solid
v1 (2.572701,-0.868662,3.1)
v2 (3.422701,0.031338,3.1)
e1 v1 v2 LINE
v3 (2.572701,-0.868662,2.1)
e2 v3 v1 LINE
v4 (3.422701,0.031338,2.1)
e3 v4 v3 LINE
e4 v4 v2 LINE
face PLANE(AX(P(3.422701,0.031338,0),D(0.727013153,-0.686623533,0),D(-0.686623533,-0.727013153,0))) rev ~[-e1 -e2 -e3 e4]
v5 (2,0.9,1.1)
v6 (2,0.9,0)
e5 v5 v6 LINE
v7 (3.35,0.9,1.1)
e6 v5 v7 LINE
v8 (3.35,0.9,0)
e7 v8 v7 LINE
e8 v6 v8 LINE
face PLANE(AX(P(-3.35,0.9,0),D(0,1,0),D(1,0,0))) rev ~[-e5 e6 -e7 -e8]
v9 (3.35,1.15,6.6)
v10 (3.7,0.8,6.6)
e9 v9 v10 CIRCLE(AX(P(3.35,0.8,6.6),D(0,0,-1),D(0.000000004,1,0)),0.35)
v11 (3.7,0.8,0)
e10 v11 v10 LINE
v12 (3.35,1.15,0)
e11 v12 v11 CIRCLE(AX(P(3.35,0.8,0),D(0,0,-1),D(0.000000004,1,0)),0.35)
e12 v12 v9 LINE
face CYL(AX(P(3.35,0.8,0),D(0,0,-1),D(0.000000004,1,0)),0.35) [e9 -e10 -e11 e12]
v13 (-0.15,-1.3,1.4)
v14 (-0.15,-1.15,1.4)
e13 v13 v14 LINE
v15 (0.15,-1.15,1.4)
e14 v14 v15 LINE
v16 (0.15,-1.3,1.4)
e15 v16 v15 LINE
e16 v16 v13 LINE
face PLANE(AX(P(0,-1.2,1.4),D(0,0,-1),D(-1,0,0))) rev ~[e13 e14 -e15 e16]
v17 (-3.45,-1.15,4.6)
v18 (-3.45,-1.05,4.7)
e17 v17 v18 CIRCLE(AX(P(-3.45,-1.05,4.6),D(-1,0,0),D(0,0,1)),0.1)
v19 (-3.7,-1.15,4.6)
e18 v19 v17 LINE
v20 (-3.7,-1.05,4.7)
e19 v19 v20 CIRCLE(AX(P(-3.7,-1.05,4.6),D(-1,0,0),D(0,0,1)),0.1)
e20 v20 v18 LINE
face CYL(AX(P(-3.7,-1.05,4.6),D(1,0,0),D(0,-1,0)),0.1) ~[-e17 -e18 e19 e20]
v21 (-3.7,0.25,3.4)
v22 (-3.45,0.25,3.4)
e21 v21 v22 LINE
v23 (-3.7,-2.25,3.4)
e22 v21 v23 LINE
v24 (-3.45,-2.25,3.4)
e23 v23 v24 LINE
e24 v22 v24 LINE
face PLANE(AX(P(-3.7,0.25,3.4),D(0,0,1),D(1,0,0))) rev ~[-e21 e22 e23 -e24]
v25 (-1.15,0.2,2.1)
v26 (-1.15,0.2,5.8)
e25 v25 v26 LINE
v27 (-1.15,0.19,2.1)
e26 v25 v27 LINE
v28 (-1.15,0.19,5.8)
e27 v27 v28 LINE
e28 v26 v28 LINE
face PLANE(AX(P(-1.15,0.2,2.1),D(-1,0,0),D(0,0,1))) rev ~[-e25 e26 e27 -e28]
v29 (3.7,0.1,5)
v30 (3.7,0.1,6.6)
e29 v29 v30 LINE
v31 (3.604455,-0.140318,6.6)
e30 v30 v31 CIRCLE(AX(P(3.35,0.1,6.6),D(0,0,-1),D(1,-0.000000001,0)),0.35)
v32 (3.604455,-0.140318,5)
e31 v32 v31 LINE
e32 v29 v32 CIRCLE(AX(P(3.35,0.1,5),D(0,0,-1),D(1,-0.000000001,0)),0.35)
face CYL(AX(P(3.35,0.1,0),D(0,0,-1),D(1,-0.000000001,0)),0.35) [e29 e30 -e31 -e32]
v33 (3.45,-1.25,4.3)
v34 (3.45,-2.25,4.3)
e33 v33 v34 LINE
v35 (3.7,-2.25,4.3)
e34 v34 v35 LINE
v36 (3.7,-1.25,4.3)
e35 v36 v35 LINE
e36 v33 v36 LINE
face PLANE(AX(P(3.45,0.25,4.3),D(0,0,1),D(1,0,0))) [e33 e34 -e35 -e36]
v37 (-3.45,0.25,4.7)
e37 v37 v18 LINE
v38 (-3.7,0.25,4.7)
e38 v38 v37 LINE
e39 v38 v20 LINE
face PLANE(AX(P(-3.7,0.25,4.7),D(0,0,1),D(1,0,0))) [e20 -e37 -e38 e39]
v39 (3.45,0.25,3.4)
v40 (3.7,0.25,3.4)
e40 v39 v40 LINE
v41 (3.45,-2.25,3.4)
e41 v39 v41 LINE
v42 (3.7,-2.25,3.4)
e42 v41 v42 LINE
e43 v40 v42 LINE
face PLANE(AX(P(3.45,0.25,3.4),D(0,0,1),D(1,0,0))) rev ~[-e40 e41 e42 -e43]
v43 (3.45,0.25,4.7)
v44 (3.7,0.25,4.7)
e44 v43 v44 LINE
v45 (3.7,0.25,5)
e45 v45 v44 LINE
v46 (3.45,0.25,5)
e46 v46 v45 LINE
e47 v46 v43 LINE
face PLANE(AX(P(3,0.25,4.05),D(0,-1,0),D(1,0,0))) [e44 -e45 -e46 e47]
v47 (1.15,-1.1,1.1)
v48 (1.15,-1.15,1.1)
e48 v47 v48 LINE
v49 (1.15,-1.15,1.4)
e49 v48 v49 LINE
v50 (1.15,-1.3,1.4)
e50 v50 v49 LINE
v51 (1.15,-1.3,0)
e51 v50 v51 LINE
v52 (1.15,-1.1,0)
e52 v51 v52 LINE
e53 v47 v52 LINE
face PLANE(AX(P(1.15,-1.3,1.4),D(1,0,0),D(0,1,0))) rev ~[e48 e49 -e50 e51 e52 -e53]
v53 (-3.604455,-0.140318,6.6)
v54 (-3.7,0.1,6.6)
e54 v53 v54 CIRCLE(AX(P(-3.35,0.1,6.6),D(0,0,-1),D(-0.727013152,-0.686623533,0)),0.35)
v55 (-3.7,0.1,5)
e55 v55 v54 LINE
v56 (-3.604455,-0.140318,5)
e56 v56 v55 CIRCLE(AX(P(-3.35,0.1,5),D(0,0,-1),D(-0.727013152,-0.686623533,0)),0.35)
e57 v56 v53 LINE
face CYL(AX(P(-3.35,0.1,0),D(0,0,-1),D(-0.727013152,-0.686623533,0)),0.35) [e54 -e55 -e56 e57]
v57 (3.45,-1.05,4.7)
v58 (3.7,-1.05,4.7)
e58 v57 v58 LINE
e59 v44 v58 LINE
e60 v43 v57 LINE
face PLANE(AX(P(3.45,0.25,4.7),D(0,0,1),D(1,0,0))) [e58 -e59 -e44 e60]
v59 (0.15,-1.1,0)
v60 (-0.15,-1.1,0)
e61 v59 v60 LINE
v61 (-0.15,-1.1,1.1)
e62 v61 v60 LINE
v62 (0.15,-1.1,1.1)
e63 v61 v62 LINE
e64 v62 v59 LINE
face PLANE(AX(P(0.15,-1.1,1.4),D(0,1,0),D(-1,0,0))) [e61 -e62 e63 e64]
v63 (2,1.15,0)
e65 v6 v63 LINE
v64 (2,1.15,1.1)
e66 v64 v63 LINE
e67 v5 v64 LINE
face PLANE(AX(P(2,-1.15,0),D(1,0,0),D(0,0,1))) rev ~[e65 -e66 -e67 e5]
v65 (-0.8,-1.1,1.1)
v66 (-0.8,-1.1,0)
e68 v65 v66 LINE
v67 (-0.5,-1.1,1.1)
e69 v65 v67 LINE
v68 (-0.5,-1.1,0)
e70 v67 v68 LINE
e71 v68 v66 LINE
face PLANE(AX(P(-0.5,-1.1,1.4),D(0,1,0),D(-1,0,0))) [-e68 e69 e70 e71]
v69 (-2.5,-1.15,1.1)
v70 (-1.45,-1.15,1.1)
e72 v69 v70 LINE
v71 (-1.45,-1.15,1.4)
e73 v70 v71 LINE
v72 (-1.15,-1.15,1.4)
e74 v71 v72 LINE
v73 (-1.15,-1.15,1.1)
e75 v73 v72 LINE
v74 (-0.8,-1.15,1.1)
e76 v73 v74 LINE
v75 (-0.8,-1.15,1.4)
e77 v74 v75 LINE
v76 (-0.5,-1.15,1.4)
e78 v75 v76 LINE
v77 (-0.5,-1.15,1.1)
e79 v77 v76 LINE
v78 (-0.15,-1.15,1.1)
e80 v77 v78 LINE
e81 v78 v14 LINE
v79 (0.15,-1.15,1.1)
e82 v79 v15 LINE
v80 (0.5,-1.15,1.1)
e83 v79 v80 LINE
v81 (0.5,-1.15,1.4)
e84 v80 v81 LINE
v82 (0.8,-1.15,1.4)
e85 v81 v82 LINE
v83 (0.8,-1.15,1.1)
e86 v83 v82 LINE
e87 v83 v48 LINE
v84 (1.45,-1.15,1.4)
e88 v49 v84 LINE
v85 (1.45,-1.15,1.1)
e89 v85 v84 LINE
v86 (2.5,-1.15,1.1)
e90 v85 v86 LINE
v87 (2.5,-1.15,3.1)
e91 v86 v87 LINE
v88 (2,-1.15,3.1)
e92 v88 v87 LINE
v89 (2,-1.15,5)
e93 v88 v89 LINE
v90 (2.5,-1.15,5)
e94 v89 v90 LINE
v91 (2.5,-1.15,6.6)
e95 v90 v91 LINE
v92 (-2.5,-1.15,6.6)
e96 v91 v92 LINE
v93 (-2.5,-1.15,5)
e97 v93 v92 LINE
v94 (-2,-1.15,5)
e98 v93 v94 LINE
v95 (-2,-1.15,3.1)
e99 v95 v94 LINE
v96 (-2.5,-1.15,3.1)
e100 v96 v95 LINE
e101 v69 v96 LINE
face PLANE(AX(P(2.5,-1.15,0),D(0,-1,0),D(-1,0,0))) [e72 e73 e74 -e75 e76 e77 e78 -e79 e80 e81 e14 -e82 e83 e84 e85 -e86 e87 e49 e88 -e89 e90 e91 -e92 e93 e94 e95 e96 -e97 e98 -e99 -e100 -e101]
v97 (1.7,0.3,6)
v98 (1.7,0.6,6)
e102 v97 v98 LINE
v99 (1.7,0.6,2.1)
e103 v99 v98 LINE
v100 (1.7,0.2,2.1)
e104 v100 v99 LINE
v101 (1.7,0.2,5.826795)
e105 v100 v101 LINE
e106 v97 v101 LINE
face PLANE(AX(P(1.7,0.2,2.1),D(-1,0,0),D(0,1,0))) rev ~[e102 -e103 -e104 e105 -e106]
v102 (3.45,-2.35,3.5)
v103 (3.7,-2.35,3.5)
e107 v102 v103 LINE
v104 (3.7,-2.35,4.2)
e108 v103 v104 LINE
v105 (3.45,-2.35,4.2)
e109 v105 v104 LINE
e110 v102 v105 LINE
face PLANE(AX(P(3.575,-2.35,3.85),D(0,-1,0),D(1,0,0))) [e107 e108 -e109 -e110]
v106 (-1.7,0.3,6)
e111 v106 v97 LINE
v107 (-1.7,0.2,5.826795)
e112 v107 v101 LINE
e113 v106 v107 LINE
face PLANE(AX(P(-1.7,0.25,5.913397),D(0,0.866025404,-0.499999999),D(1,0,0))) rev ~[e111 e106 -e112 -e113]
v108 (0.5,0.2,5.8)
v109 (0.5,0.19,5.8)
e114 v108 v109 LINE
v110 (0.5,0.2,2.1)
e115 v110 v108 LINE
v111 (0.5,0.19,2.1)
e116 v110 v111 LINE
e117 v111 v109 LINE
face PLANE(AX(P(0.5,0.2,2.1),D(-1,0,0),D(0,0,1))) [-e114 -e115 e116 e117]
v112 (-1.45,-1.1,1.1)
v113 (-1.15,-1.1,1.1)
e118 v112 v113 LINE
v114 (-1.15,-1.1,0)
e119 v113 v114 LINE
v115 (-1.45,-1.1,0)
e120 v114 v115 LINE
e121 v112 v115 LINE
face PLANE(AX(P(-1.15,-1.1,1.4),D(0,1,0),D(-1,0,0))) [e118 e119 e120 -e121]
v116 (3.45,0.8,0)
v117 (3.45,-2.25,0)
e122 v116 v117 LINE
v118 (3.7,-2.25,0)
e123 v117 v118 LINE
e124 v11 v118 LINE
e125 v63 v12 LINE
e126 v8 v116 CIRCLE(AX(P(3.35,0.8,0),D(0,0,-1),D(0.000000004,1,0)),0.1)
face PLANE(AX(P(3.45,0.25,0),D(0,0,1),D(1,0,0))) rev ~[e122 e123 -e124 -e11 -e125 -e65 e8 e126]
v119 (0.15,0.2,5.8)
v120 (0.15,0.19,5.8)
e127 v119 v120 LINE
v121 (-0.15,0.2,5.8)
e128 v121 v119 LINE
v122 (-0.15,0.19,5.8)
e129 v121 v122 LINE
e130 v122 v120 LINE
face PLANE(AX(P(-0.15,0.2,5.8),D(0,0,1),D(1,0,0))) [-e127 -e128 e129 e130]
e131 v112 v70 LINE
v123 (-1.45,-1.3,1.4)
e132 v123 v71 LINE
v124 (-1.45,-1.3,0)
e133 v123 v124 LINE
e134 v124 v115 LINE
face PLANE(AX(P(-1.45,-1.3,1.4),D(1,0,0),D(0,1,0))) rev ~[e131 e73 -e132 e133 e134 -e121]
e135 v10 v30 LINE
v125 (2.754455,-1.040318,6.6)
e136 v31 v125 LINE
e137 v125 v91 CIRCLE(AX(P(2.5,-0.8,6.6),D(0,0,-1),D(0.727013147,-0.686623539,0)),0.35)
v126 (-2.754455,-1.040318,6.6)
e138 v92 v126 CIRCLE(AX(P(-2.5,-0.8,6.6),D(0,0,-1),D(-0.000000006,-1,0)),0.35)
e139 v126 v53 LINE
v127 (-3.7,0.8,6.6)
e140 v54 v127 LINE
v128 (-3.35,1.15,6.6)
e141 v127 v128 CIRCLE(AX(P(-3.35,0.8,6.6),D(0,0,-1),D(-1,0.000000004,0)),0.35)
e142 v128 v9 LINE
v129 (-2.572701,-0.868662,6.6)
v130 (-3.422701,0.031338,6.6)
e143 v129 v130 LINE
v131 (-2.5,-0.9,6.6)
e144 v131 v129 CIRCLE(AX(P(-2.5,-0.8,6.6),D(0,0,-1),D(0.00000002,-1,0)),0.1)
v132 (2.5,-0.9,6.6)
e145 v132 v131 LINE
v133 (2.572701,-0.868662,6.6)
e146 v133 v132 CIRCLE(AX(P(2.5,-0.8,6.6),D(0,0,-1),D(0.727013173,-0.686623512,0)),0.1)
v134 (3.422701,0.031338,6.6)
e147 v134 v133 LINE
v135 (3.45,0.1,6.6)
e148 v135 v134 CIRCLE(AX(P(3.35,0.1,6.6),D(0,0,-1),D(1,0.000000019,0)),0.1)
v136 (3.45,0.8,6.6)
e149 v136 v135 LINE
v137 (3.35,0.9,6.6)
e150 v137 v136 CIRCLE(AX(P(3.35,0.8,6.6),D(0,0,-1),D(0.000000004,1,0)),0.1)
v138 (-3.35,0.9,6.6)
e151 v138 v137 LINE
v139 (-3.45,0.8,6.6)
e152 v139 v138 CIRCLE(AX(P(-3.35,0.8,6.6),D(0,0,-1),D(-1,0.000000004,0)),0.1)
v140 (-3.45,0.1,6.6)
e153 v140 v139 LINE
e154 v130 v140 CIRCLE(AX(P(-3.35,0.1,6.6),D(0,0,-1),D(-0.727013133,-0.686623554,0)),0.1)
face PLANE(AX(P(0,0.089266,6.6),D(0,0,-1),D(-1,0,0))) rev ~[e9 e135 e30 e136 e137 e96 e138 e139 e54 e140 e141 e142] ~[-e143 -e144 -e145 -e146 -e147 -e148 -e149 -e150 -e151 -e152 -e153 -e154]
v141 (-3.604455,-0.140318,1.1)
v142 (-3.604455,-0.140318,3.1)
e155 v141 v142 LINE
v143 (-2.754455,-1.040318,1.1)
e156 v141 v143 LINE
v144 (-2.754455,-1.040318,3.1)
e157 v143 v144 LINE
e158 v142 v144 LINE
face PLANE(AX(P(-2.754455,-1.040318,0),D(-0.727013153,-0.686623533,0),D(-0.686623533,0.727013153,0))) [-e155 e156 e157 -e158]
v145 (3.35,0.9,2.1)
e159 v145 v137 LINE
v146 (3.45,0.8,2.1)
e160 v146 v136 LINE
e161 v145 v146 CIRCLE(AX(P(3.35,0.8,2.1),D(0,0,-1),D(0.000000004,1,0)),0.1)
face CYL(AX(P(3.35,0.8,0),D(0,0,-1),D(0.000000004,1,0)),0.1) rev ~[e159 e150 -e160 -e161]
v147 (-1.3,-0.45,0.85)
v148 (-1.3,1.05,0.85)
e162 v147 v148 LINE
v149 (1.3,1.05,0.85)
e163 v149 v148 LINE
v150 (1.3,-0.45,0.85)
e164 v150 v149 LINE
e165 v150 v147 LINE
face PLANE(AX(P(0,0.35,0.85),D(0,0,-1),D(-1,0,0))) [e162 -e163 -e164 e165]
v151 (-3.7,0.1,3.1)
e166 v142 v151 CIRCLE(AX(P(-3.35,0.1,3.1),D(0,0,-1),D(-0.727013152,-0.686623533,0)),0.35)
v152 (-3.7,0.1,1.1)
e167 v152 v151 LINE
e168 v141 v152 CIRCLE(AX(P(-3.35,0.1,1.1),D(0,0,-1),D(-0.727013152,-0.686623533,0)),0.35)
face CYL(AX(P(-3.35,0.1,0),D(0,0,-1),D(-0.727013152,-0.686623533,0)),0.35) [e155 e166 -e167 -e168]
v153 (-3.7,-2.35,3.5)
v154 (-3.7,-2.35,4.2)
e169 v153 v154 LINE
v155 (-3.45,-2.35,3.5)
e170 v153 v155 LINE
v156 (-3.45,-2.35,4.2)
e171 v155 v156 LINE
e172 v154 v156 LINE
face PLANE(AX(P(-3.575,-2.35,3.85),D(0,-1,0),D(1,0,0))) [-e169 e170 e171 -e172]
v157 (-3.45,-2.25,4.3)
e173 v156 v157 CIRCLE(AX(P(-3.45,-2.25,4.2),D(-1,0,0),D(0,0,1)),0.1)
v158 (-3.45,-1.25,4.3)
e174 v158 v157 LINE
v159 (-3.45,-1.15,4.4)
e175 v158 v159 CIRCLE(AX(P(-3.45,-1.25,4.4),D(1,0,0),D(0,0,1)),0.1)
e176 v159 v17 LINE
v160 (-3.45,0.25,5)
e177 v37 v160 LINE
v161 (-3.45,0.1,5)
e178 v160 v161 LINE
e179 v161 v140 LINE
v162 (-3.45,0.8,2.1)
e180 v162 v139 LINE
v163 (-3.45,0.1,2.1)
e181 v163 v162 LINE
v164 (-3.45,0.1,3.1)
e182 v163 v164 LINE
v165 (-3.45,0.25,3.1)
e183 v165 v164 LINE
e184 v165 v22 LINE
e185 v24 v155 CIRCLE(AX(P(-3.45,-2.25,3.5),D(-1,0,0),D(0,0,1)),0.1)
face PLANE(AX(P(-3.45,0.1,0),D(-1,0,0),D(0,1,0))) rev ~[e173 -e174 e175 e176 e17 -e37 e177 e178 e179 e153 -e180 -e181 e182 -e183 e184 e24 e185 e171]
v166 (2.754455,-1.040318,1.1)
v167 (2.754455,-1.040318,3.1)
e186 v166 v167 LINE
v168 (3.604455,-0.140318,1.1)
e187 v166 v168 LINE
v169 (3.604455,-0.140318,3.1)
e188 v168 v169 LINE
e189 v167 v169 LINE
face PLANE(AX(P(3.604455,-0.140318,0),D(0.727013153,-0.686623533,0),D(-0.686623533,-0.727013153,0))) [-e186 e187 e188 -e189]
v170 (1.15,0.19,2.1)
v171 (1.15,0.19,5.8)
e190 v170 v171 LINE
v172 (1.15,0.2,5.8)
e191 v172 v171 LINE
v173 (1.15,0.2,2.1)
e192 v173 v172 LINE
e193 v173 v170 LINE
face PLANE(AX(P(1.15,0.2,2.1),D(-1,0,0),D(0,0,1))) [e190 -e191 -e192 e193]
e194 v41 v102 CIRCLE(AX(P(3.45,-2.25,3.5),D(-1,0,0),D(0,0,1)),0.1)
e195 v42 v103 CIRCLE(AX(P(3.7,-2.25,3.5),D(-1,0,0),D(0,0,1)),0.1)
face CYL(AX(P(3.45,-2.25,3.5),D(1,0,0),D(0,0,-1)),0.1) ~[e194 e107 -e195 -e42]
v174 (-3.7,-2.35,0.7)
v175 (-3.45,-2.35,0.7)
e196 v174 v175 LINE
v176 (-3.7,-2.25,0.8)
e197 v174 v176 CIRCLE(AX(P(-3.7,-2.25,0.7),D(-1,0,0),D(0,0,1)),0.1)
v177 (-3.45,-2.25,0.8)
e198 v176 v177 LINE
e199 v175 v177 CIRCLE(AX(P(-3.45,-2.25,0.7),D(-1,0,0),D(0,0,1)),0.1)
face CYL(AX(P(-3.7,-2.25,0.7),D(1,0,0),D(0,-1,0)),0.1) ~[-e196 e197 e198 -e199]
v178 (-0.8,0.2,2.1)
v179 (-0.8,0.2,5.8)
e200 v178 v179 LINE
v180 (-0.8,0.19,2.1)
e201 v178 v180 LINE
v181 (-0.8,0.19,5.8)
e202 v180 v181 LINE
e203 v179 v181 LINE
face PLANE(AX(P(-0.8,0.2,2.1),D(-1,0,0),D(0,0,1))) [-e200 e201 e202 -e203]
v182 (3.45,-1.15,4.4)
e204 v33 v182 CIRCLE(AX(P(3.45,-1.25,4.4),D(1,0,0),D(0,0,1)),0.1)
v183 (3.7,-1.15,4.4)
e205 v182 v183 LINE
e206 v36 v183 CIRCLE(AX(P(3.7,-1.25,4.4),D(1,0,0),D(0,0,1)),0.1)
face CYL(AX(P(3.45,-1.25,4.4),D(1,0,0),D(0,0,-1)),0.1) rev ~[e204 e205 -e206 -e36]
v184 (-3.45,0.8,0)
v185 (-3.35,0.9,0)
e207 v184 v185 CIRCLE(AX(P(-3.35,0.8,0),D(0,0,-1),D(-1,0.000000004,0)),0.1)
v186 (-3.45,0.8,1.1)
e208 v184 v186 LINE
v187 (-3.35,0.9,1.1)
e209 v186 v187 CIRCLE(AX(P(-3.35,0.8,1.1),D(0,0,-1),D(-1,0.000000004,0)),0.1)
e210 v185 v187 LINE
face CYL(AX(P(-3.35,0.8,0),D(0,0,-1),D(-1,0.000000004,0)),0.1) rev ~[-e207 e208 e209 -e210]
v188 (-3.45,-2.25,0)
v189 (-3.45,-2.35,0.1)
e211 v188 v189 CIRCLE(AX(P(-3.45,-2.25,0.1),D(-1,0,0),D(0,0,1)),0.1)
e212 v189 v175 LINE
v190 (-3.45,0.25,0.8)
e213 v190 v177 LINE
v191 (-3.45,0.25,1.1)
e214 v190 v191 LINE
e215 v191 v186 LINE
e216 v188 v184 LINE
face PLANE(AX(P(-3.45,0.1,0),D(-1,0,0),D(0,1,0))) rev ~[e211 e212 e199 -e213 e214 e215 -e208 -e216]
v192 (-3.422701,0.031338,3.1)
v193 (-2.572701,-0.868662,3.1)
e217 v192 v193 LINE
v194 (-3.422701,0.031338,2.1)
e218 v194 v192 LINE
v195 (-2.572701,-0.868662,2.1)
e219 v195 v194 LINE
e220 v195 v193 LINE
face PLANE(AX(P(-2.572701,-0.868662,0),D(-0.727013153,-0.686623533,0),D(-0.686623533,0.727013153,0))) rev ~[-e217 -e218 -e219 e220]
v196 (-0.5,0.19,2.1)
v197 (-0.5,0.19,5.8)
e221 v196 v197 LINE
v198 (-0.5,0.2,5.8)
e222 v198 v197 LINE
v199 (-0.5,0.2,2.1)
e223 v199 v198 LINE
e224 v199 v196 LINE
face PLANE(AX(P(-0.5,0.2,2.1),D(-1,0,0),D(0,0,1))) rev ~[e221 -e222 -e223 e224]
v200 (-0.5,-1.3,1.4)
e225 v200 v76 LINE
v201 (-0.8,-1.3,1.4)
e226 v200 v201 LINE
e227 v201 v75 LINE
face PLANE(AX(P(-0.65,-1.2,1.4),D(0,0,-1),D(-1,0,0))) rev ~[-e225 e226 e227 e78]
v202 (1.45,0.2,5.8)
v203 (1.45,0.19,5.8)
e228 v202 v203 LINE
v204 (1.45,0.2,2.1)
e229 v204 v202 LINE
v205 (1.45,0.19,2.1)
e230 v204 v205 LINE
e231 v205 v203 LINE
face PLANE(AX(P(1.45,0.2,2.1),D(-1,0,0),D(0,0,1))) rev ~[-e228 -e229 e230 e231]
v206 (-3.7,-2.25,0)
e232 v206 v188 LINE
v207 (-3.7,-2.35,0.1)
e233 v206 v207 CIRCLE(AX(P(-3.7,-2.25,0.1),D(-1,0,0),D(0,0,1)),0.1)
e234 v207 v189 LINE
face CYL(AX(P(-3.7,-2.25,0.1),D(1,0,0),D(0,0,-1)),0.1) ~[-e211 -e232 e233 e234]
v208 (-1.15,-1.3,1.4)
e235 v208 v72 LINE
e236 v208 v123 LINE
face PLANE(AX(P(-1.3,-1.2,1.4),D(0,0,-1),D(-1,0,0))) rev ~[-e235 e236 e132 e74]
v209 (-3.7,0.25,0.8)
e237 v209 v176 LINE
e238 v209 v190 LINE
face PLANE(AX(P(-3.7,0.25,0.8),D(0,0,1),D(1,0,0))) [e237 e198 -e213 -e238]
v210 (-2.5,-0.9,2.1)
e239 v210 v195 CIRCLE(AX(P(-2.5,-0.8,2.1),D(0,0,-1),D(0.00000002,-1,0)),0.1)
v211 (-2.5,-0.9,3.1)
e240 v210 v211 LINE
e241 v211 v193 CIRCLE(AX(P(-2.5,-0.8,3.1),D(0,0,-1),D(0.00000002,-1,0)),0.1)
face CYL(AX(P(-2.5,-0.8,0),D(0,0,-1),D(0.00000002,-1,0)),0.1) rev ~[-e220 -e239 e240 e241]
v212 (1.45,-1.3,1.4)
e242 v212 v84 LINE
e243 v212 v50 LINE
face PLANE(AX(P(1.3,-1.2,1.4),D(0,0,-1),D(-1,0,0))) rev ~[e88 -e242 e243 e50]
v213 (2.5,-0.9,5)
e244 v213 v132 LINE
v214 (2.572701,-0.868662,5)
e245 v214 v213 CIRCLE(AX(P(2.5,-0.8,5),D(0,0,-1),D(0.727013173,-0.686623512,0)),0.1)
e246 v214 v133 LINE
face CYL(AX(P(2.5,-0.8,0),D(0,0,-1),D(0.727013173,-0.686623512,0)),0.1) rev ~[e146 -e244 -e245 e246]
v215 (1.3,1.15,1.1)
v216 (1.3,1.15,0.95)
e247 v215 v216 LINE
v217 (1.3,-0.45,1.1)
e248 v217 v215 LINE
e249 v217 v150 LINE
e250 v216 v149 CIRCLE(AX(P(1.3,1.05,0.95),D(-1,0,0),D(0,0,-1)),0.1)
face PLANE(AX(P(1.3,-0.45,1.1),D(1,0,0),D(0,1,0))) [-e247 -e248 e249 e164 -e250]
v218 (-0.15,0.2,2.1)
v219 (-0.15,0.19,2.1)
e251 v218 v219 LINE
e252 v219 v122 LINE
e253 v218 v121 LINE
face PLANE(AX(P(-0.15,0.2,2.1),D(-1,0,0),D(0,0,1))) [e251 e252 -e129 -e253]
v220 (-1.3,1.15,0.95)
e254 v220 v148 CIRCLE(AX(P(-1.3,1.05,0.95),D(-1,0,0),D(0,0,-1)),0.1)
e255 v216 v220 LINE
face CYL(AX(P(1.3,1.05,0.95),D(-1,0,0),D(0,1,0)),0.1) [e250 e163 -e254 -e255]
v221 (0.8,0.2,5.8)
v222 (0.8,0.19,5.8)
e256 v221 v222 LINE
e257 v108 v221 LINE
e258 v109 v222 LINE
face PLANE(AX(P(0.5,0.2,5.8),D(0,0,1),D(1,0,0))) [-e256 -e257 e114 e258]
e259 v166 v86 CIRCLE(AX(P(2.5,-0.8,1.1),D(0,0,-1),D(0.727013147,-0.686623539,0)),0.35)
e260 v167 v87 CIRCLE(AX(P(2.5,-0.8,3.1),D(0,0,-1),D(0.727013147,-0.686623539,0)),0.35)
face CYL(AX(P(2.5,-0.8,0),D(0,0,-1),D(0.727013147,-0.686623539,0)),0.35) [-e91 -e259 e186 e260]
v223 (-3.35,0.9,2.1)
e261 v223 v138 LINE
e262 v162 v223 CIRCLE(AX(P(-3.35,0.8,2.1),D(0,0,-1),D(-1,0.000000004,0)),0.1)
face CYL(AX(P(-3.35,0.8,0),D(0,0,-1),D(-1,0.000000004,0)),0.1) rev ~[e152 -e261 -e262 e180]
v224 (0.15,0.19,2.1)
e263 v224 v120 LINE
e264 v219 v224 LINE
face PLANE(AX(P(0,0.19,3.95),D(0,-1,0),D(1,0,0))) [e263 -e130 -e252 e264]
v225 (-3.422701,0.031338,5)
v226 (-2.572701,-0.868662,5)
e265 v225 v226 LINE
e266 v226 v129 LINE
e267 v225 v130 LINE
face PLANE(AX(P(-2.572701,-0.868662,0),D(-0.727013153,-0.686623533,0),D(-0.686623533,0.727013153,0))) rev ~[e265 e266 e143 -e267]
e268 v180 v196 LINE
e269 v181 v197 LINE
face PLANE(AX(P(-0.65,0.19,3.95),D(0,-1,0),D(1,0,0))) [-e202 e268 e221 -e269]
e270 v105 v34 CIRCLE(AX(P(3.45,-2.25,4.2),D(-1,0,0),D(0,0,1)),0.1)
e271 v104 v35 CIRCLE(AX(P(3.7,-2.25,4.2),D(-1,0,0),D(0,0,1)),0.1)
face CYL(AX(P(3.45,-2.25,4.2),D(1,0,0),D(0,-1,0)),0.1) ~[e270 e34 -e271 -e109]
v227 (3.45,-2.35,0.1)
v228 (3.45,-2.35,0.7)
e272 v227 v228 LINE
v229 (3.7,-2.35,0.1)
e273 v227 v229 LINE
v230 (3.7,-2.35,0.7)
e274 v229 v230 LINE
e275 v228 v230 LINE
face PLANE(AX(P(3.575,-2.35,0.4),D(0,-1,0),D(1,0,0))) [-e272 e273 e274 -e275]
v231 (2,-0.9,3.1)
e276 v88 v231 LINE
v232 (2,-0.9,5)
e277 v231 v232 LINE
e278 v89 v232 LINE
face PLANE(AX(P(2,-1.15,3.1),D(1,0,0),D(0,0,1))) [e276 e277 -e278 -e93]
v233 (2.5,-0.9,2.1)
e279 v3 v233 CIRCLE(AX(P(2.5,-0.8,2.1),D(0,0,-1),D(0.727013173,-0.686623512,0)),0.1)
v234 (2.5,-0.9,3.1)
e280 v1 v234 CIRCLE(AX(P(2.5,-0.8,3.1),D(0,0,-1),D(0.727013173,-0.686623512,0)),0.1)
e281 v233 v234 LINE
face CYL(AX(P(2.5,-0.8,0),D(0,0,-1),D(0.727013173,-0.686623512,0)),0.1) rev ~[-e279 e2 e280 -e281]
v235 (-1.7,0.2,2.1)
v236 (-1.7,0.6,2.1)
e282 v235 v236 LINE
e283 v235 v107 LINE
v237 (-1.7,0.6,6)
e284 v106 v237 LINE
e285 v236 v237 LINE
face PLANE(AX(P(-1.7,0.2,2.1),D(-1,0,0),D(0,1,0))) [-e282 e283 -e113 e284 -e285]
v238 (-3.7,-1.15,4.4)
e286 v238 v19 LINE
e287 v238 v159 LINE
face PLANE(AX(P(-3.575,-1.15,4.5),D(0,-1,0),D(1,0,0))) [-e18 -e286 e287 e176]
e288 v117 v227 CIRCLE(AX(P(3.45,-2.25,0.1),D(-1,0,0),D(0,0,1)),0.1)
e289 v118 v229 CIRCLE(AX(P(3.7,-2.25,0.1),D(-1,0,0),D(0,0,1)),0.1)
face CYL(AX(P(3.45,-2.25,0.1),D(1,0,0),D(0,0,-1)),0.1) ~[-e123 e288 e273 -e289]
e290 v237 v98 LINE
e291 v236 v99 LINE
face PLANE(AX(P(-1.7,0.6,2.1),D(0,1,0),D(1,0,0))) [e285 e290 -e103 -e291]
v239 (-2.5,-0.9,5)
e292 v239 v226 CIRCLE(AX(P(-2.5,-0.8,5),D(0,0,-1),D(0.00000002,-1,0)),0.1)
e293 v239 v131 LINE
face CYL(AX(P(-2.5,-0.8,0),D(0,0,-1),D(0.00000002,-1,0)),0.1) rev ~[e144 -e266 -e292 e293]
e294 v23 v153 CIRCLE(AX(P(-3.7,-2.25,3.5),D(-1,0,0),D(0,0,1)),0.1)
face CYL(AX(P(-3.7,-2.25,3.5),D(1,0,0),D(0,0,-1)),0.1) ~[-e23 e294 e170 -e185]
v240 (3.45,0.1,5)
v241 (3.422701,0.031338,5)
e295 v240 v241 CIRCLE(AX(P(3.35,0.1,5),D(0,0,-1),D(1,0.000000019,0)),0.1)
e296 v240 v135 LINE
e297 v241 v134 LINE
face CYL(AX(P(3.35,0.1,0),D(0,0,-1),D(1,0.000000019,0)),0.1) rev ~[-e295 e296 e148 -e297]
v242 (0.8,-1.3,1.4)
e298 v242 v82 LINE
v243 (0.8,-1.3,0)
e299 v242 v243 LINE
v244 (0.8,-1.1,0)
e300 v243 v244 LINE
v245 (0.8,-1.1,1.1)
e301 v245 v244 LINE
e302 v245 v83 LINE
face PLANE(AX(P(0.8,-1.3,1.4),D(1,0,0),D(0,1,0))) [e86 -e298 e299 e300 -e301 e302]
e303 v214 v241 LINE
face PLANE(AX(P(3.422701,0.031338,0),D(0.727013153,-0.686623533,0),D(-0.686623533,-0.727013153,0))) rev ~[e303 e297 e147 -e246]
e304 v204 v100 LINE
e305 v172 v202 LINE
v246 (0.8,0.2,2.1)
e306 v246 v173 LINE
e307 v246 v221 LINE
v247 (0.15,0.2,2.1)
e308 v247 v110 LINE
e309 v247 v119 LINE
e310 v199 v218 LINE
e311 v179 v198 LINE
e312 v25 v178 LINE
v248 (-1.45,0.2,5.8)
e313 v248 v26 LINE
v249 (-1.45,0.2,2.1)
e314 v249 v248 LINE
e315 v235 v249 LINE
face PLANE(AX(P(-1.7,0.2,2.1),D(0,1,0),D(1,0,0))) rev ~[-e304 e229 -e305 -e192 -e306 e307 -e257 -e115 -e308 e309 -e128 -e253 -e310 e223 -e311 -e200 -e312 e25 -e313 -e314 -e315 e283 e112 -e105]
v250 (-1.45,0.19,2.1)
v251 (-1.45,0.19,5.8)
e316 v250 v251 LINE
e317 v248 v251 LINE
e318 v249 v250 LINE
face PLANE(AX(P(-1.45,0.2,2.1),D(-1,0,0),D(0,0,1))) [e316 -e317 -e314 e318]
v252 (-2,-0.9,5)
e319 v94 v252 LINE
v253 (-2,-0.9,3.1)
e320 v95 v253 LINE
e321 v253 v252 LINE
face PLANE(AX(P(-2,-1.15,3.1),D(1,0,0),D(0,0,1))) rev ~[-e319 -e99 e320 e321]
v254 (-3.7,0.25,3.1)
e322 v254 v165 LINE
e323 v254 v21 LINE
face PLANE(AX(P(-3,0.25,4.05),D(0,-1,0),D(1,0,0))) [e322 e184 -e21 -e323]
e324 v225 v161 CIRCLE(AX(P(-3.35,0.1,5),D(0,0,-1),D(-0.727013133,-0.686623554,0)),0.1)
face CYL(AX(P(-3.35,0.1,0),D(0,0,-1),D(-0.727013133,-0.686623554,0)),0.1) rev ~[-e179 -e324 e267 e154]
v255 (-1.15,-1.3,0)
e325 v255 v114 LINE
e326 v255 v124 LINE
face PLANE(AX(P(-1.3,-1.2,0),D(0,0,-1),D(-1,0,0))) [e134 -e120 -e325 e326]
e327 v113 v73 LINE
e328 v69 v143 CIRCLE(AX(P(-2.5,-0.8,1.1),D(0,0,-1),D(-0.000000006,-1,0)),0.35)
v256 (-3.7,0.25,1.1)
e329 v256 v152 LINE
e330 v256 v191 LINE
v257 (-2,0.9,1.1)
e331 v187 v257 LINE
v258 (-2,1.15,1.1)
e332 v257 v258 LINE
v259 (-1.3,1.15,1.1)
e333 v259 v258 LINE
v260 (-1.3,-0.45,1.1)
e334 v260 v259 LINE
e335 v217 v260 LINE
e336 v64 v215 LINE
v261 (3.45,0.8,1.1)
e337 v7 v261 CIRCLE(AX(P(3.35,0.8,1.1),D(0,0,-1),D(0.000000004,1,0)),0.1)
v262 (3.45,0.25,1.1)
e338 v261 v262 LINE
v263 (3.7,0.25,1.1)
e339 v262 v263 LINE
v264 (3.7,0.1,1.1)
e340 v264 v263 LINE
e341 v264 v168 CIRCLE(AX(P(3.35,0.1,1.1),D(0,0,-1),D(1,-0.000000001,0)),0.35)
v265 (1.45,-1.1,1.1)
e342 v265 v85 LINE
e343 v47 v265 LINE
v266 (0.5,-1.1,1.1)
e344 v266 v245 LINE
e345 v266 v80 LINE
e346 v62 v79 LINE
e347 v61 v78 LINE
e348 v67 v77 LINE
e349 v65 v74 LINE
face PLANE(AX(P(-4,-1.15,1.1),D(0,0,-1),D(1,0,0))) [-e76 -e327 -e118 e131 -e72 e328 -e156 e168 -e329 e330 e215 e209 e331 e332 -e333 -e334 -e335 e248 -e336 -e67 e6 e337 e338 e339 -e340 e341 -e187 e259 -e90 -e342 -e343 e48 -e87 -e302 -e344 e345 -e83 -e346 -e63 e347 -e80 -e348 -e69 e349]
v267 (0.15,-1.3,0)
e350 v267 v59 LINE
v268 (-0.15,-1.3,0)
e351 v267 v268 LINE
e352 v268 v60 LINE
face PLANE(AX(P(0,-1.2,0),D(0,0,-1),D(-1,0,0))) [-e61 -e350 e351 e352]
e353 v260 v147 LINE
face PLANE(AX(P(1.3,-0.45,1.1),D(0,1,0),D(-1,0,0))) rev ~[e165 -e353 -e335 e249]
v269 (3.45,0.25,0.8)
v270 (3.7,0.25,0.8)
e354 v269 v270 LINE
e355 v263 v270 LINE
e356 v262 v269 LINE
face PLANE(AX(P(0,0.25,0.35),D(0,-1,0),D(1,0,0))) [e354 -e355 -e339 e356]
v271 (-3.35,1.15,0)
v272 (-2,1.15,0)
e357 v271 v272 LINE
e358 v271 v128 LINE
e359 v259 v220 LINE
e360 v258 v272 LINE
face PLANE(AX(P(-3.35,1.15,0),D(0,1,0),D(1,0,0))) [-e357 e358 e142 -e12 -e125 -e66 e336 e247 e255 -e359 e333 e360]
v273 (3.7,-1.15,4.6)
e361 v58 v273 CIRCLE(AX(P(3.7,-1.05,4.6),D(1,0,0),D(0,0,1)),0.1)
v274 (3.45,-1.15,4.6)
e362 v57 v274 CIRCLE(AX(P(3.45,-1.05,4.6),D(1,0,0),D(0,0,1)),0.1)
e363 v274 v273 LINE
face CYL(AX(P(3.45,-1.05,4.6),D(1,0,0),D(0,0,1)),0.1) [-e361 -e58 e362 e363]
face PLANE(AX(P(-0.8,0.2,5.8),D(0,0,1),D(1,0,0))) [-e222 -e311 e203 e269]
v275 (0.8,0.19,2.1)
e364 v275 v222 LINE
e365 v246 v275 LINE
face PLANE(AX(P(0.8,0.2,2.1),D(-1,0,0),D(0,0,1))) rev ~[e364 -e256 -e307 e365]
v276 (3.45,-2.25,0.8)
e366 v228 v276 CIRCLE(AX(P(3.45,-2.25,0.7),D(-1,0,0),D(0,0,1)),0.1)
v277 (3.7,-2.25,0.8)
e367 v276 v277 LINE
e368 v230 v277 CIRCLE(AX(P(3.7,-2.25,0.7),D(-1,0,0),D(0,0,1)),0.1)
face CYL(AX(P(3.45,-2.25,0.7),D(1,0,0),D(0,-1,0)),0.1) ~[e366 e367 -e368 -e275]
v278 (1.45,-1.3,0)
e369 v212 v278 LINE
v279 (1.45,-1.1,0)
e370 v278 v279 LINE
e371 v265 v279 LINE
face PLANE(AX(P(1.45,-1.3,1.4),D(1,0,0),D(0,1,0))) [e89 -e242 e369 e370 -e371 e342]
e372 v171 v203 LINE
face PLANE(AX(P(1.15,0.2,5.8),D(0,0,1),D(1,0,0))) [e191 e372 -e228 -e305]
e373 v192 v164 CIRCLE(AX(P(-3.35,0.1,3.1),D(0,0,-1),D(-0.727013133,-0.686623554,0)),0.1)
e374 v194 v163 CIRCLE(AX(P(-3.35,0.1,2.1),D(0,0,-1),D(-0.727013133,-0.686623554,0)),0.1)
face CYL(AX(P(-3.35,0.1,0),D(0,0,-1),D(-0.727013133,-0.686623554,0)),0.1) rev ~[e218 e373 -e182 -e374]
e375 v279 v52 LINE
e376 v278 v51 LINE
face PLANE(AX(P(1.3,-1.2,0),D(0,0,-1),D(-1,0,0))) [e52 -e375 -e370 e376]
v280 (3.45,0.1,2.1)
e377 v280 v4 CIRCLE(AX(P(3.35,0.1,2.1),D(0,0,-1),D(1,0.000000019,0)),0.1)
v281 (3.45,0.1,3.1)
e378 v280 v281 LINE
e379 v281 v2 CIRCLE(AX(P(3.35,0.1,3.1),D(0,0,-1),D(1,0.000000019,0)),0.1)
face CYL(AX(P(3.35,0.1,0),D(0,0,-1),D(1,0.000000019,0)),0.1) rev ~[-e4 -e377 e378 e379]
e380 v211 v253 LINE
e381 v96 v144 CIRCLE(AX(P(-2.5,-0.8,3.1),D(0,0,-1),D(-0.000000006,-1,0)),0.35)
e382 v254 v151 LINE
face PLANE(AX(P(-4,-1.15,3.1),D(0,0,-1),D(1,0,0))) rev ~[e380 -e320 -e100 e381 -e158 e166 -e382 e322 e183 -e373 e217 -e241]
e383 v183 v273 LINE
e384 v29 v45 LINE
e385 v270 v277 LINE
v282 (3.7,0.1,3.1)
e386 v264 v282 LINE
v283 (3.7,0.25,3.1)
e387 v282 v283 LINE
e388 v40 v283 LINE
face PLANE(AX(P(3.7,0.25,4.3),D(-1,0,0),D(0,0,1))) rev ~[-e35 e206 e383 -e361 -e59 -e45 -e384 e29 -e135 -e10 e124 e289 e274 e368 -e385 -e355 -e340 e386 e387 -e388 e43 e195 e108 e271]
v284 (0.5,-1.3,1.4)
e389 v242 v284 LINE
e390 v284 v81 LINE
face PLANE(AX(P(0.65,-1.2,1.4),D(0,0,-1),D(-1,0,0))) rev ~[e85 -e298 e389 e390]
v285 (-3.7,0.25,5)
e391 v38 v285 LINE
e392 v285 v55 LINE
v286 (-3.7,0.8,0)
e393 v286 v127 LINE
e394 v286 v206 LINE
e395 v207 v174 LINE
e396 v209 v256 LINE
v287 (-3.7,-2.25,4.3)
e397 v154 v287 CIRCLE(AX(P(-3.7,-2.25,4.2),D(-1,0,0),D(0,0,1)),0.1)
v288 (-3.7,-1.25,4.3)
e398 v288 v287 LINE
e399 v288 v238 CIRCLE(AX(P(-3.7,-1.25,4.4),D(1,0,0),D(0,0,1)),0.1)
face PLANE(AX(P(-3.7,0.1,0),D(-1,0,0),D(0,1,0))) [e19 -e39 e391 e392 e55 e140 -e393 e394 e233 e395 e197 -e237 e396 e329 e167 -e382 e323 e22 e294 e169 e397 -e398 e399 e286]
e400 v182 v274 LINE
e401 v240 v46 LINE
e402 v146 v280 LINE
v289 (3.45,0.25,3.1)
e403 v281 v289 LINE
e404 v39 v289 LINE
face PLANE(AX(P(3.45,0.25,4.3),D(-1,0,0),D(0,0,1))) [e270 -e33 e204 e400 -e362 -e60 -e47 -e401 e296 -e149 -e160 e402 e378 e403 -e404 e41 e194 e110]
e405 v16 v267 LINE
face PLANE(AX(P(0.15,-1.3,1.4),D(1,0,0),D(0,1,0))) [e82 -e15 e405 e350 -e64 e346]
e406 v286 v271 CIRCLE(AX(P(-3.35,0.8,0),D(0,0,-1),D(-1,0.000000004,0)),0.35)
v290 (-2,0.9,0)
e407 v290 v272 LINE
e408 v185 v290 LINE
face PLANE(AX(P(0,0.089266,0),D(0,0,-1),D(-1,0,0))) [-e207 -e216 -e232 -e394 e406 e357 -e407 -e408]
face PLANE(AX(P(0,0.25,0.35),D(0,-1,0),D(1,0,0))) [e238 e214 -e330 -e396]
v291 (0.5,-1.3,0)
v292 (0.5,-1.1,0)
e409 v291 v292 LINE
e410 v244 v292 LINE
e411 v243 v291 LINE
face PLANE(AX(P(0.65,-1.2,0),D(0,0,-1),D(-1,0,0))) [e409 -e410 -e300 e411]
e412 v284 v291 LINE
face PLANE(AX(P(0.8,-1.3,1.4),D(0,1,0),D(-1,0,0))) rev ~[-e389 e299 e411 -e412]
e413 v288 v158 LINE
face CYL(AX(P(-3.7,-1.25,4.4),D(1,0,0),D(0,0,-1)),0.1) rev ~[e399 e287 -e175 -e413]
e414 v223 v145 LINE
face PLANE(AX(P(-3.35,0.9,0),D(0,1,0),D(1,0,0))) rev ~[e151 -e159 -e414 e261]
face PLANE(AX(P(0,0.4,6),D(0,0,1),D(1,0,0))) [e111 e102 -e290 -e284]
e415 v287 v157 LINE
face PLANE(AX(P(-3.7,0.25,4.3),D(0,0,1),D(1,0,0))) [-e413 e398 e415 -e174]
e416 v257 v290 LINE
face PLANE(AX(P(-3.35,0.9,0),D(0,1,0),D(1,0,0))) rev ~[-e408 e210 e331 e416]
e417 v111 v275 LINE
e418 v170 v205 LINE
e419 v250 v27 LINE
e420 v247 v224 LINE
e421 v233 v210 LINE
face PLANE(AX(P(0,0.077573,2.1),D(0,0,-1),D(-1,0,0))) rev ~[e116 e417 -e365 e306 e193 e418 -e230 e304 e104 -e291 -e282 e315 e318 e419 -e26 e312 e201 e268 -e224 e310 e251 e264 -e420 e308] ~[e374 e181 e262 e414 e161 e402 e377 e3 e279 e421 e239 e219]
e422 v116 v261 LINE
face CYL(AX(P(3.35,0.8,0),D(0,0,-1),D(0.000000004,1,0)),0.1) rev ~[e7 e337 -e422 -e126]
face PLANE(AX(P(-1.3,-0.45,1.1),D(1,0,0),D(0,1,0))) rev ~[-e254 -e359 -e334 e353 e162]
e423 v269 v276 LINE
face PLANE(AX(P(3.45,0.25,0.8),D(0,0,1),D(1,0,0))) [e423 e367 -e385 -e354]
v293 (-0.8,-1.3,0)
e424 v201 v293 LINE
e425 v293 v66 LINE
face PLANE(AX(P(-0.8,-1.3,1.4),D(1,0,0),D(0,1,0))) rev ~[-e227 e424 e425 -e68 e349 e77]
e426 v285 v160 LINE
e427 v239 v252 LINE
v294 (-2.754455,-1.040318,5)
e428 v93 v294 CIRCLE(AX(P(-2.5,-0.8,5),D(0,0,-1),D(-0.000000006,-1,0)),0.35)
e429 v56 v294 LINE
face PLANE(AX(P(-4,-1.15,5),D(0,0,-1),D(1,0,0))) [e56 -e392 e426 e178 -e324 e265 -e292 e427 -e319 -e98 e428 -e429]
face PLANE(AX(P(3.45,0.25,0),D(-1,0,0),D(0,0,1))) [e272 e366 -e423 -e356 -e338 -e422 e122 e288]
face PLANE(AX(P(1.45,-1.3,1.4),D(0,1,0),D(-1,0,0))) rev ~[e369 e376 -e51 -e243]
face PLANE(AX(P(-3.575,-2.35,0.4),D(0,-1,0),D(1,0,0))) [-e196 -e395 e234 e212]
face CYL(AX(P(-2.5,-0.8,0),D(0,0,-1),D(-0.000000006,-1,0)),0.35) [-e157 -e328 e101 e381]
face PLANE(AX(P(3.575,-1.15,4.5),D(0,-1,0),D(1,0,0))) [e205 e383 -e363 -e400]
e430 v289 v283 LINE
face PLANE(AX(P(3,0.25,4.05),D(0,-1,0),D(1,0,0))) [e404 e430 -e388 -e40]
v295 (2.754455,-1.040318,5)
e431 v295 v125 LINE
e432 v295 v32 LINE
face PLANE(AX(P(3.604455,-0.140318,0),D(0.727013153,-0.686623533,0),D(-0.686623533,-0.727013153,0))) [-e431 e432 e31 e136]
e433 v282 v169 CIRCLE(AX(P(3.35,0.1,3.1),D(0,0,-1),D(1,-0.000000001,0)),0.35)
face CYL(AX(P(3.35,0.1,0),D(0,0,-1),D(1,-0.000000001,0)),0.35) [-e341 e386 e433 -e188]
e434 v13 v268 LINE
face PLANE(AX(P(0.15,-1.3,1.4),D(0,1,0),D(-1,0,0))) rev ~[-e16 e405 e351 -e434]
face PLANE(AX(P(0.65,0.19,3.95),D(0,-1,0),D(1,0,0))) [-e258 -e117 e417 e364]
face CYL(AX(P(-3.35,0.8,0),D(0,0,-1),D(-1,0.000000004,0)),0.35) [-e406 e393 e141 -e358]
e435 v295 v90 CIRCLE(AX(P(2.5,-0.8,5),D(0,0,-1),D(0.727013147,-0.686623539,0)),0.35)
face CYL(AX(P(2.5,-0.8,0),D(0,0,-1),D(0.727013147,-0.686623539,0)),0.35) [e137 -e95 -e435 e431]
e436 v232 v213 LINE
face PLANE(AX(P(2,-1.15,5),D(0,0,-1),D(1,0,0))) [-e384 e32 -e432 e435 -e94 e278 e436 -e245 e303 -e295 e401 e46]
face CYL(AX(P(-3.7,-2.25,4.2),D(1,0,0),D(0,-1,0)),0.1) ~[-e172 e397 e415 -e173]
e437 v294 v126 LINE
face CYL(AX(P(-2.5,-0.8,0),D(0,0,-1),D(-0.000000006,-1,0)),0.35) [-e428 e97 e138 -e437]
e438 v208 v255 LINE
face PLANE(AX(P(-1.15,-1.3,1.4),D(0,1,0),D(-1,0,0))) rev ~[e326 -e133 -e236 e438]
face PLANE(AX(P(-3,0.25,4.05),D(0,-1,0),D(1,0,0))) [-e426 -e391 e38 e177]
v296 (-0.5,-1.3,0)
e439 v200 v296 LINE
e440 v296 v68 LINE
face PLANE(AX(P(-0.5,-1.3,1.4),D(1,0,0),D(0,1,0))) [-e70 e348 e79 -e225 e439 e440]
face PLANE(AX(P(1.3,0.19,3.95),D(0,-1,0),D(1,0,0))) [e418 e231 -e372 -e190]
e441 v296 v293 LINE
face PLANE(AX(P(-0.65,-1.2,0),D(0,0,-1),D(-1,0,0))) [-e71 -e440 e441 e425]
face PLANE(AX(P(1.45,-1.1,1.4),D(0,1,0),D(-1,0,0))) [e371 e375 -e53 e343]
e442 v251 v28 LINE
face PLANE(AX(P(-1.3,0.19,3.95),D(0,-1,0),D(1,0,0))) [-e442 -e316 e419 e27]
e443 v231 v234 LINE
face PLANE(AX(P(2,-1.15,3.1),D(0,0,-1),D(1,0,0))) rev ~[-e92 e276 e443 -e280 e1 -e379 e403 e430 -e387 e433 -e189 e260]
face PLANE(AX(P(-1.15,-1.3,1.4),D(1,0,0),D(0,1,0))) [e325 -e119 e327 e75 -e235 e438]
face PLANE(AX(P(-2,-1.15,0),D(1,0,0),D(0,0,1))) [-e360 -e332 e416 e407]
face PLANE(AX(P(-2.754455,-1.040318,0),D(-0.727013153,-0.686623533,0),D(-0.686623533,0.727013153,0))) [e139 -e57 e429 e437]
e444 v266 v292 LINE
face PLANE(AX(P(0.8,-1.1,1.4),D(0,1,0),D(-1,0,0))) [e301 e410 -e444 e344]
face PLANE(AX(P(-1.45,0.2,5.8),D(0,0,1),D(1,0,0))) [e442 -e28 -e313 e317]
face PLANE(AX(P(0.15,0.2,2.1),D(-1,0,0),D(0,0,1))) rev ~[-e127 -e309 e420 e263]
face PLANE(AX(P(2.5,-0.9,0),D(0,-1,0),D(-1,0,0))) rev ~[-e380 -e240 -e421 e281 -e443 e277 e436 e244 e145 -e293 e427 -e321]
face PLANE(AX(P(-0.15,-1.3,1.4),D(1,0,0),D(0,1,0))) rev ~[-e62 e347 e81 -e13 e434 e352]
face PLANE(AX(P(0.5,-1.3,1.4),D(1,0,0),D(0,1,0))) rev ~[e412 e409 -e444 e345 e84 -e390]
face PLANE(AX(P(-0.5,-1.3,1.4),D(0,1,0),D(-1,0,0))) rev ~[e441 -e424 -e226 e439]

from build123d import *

# Parameters (mm, degrees)
EXTRUDE_1_DEPTH     = 6.6
SKETCH_2_W          = 4
SKETCH_2_H          = 1.1
CUT_EXTRUDE_1_DEPTH = 6.6
EXTRUDE_2_DEPTH     = 1
SKETCH_4_W          = 3.4
SKETCH_4_H          = 0.4
EXTRUDE_3_DEPTH     = 3.9
CHAMFER_1_SIZE      = 0.1
CHAMFER_1_SIZE2     = 0.173205081
SKETCH_5_W          = 8
SKETCH_5_H          = 1.5
SKETCH_5_W_2        = 2
SKETCH_5_H_2        = 1.9
CUT_EXTRUDE_2_DEPTH = 1.4
SKETCH_6_W          = 0.25
SKETCH_6_H          = 0.8
SKETCH_6_H_2        = 0.9
EXTRUDE_5_DEPTH     = 2.6
SKETCH_7_W          = 0.25
SKETCH_7_H          = 0.4
EXTRUDE_6_DEPTH     = 1.4
SKETCH_8_W          = 0.3
SKETCH_8_H          = 0.2
EXTRUDE_7_DEPTH     = 1.4
SKETCH_9_W          = 0.3
SKETCH_9_H          = 3.7
EXTRUDE_8_DEPTH     = 0.01
SKETCH_10_W         = 2.6
SKETCH_10_H         = 1.6
EXTRUDE_9_DEPTH     = 0.25
FILLET_1_R          = 0.1


with BuildPart() as part:
    # 草图1 → 凸台-拉伸1 (new body)
    with BuildSketch(Plane.XY):
        with BuildLine():
            Line((-3.35, 1.15), (3.35, 1.15))
            ThreePointArc((3.35, 1.15), (3.597487373, 1.047487373), (3.7, 0.8))
            Line((3.7, 0.8), (3.7, 0.1))
            ThreePointArc((3.7, 0.1), (3.675237691, -0.029307557), (3.604454603, -0.140318237))
            Line((3.604454603, -0.140318237), (2.754454603, -1.040318237))
            ThreePointArc((2.754454603, -1.040318237), (2.638543526, -1.121412027), (2.5, -1.15))
            Line((2.5, -1.15), (-2.5, -1.15))
            ThreePointArc((-2.5, -1.15), (-2.638543526, -1.121412027), (-2.754454603, -1.040318237))
            Line((-2.754454603, -1.040318237), (-3.604454603, -0.140318237))
            ThreePointArc((-3.604454603, -0.140318237), (-3.675237691, -0.029307557), (-3.7, 0.1))
            Line((-3.7, 0.1), (-3.7, 0.8))
            ThreePointArc((-3.7, 0.8), (-3.597487373, 1.047487373), (-3.35, 1.15))
        make_face()
        with BuildLine():
            Line((-3.35, 0.9), (3.35, 0.9))
            ThreePointArc((3.35, 0.9), (3.420710678, 0.870710678), (3.45, 0.8))
            Line((3.45, 0.8), (3.45, 0.1))
            ThreePointArc((3.45, 0.1), (3.442925055, 0.063054984), (3.422701315, 0.031337647))
            Line((3.422701315, 0.031337647), (2.572701315, -0.868662353))
            ThreePointArc((2.572701315, -0.868662353), (2.539583865, -0.891832008), (2.5, -0.9))
            Line((2.5, -0.9), (-2.5, -0.9))
            ThreePointArc((-2.5, -0.9), (-2.539583865, -0.891832008), (-2.572701315, -0.868662353))
            Line((-2.572701315, -0.868662353), (-3.422701315, 0.031337647))
            ThreePointArc((-3.422701315, 0.031337647), (-3.442925055, 0.063054984), (-3.45, 0.1))
            Line((-3.45, 0.1), (-3.45, 0.8))
            ThreePointArc((-3.45, 0.8), (-3.420710678, 0.870710678), (-3.35, 0.9))
        make_face(mode=Mode.SUBTRACT)
    extrude(amount=EXTRUDE_1_DEPTH)

    # 草图2 → 切除-拉伸1 (cut)
    with BuildSketch(Plane.XZ.offset(1.15)):
        with Locations((0, 0.55)):
            Rectangle(SKETCH_2_W, SKETCH_2_H)
    extrude(amount=-CUT_EXTRUDE_1_DEPTH, mode=Mode.SUBTRACT)

    # 草图3 → 凸台-拉伸2 (add)
    with BuildSketch(Plane(origin=(0, 0, 1.1), x_dir=(-1, 0, 0), z_dir=(0, 0, -1))):
        with BuildLine():
            Line((2.572701315, -0.868662353), (3.422701315, 0.031337647))
            ThreePointArc((3.422701315, 0.031337647), (3.442925055, 0.063054984), (3.45, 0.1))
            Line((3.45, 0.1), (3.45, 0.8))
            ThreePointArc((3.45, 0.8), (3.420710678, 0.870710678), (3.35, 0.9))
            Line((3.35, 0.9), (-3.35, 0.9))
            ThreePointArc((-3.35, 0.9), (-3.420710678, 0.870710678), (-3.45, 0.8))
            Line((-3.45, 0.8), (-3.45, 0.1))
            ThreePointArc((-3.45, 0.1), (-3.442925055, 0.063054984), (-3.422701315, 0.031337647))
            Line((-3.422701315, 0.031337647), (-2.572701315, -0.868662353))
            ThreePointArc((-2.572701315, -0.868662353), (-2.539583865, -0.891832008), (-2.5, -0.9))
            Line((-2.5, -0.9), (2.5, -0.9))
            ThreePointArc((2.5, -0.9), (2.539583865, -0.891832008), (2.572701315, -0.868662353))
        make_face()
    extrude(amount=-EXTRUDE_2_DEPTH)

    # 草图4 → 凸台-拉伸3 (add)
    with BuildSketch(Plane.XY.offset(2.1)):
        with Locations((0, 0.4)):
            Rectangle(SKETCH_4_W, SKETCH_4_H)
    extrude(amount=EXTRUDE_3_DEPTH)

    # 倒角1
    chamfer_1_edges = [part.edges().sort_by_distance(p)[0] for p in [
        (0, 0.2, 6),
    ]]
    chamfer_1_side = [part.faces().sort_by_distance(p)[0] for p in [
        (0, 0.4, 6),
    ]]
    chamfer(chamfer_1_edges, length=CHAMFER_1_SIZE, length2=CHAMFER_1_SIZE2, reference=chamfer_1_side[0])

    # 草图5 → 切除-拉伸2 (cut)
    with BuildSketch(Plane.XZ.offset(1.15)):
        with Locations((0, 0.35)):
            Rectangle(SKETCH_5_W, SKETCH_5_H)
        with Locations((3, 4.05)):
            Rectangle(SKETCH_5_W_2, SKETCH_5_H_2)
        with Locations((-3, 4.05)):
            Rectangle(SKETCH_5_W_2, SKETCH_5_H_2)
    extrude(amount=-CUT_EXTRUDE_2_DEPTH, mode=Mode.SUBTRACT)

    # 草图6 → 凸台-拉伸5 (add)
    with BuildSketch(Plane.XZ.offset(-0.25)):
        with Locations((3.575, 0.4)):
            Rectangle(SKETCH_6_W, SKETCH_6_H)
        with Locations((3.575, 3.85)):
            Rectangle(SKETCH_6_W, SKETCH_6_H_2)
        with Locations((-3.575, 3.85)):
            Rectangle(SKETCH_6_W, SKETCH_6_H_2)
        with Locations((-3.575, 0.4)):
            Rectangle(SKETCH_6_W, SKETCH_6_H)
    extrude(amount=EXTRUDE_5_DEPTH)

    # 草图7 → 凸台-拉伸6 (add)
    with BuildSketch(Plane.XZ.offset(-0.25)):
        with Locations((3.575, 4.5)):
            Rectangle(SKETCH_7_W, SKETCH_7_H)
        with Locations((-3.575, 4.5)):
            Rectangle(SKETCH_7_W, SKETCH_7_H)
    extrude(amount=EXTRUDE_6_DEPTH)

    # 草图8 → 凸台-拉伸7 (add)
    with BuildSketch(Plane(origin=(0, 0, 1.4), x_dir=(-1, 0, 0), z_dir=(0, 0, -1))):
        with Locations((-0.65, -1.2)):
            Rectangle(SKETCH_8_W, SKETCH_8_H)
        with Locations((0, -1.2)):
            Rectangle(SKETCH_8_W, SKETCH_8_H)
        with Locations((0.65, -1.2)):
            Rectangle(SKETCH_8_W, SKETCH_8_H)
        with Locations((1.3, -1.2)):
            Rectangle(SKETCH_8_W, SKETCH_8_H)
        with Locations((-1.3, -1.2)):
            Rectangle(SKETCH_8_W, SKETCH_8_H)
    extrude(amount=EXTRUDE_7_DEPTH)

    # 草图9 → 凸台-拉伸8 (add)
    with BuildSketch(Plane.XZ.offset(-0.2)):
        with Locations((-1.3, 3.95)):
            Rectangle(SKETCH_9_W, SKETCH_9_H)
        with Locations((-0.65, 3.95)):
            Rectangle(SKETCH_9_W, SKETCH_9_H)
        with Locations((0, 3.95)):
            Rectangle(SKETCH_9_W, SKETCH_9_H)
        with Locations((0.65, 3.95)):
            Rectangle(SKETCH_9_W, SKETCH_9_H)
        with Locations((1.3, 3.95)):
            Rectangle(SKETCH_9_W, SKETCH_9_H)
    extrude(amount=EXTRUDE_8_DEPTH)

    # 草图10 → 凸台-拉伸9 (add)
    with BuildSketch(Plane(origin=(0, 0, 1.1), x_dir=(-1, 0, 0), z_dir=(0, 0, -1))):
        with Locations((0, 0.35)):
            Rectangle(SKETCH_10_W, SKETCH_10_H)
    extrude(amount=EXTRUDE_9_DEPTH)

    # 圆角1
    fillet_1_edges = [part.edges().sort_by_distance(p)[0] for p in [
        (3.575, -2.35, 0),
        (3.575, -2.35, 0.8),
        (3.575, -2.35, 3.4),
        (3.575, -2.35, 4.3),
        (-3.575, -2.35, 4.3),
        (-3.575, -2.35, 3.4),
        (-3.575, -2.35, 0.8),
        (-3.575, -2.35, 0),
        (3.575, -1.15, 4.3),
        (3.575, -1.15, 4.7),
        (-3.575, -1.15, 4.7),
        (-3.575, -1.15, 4.3),
        (0, 1.15, 0.85),
    ]]
    fillet(fillet_1_edges, radius=FILLET_1_R)


solid = part.part
